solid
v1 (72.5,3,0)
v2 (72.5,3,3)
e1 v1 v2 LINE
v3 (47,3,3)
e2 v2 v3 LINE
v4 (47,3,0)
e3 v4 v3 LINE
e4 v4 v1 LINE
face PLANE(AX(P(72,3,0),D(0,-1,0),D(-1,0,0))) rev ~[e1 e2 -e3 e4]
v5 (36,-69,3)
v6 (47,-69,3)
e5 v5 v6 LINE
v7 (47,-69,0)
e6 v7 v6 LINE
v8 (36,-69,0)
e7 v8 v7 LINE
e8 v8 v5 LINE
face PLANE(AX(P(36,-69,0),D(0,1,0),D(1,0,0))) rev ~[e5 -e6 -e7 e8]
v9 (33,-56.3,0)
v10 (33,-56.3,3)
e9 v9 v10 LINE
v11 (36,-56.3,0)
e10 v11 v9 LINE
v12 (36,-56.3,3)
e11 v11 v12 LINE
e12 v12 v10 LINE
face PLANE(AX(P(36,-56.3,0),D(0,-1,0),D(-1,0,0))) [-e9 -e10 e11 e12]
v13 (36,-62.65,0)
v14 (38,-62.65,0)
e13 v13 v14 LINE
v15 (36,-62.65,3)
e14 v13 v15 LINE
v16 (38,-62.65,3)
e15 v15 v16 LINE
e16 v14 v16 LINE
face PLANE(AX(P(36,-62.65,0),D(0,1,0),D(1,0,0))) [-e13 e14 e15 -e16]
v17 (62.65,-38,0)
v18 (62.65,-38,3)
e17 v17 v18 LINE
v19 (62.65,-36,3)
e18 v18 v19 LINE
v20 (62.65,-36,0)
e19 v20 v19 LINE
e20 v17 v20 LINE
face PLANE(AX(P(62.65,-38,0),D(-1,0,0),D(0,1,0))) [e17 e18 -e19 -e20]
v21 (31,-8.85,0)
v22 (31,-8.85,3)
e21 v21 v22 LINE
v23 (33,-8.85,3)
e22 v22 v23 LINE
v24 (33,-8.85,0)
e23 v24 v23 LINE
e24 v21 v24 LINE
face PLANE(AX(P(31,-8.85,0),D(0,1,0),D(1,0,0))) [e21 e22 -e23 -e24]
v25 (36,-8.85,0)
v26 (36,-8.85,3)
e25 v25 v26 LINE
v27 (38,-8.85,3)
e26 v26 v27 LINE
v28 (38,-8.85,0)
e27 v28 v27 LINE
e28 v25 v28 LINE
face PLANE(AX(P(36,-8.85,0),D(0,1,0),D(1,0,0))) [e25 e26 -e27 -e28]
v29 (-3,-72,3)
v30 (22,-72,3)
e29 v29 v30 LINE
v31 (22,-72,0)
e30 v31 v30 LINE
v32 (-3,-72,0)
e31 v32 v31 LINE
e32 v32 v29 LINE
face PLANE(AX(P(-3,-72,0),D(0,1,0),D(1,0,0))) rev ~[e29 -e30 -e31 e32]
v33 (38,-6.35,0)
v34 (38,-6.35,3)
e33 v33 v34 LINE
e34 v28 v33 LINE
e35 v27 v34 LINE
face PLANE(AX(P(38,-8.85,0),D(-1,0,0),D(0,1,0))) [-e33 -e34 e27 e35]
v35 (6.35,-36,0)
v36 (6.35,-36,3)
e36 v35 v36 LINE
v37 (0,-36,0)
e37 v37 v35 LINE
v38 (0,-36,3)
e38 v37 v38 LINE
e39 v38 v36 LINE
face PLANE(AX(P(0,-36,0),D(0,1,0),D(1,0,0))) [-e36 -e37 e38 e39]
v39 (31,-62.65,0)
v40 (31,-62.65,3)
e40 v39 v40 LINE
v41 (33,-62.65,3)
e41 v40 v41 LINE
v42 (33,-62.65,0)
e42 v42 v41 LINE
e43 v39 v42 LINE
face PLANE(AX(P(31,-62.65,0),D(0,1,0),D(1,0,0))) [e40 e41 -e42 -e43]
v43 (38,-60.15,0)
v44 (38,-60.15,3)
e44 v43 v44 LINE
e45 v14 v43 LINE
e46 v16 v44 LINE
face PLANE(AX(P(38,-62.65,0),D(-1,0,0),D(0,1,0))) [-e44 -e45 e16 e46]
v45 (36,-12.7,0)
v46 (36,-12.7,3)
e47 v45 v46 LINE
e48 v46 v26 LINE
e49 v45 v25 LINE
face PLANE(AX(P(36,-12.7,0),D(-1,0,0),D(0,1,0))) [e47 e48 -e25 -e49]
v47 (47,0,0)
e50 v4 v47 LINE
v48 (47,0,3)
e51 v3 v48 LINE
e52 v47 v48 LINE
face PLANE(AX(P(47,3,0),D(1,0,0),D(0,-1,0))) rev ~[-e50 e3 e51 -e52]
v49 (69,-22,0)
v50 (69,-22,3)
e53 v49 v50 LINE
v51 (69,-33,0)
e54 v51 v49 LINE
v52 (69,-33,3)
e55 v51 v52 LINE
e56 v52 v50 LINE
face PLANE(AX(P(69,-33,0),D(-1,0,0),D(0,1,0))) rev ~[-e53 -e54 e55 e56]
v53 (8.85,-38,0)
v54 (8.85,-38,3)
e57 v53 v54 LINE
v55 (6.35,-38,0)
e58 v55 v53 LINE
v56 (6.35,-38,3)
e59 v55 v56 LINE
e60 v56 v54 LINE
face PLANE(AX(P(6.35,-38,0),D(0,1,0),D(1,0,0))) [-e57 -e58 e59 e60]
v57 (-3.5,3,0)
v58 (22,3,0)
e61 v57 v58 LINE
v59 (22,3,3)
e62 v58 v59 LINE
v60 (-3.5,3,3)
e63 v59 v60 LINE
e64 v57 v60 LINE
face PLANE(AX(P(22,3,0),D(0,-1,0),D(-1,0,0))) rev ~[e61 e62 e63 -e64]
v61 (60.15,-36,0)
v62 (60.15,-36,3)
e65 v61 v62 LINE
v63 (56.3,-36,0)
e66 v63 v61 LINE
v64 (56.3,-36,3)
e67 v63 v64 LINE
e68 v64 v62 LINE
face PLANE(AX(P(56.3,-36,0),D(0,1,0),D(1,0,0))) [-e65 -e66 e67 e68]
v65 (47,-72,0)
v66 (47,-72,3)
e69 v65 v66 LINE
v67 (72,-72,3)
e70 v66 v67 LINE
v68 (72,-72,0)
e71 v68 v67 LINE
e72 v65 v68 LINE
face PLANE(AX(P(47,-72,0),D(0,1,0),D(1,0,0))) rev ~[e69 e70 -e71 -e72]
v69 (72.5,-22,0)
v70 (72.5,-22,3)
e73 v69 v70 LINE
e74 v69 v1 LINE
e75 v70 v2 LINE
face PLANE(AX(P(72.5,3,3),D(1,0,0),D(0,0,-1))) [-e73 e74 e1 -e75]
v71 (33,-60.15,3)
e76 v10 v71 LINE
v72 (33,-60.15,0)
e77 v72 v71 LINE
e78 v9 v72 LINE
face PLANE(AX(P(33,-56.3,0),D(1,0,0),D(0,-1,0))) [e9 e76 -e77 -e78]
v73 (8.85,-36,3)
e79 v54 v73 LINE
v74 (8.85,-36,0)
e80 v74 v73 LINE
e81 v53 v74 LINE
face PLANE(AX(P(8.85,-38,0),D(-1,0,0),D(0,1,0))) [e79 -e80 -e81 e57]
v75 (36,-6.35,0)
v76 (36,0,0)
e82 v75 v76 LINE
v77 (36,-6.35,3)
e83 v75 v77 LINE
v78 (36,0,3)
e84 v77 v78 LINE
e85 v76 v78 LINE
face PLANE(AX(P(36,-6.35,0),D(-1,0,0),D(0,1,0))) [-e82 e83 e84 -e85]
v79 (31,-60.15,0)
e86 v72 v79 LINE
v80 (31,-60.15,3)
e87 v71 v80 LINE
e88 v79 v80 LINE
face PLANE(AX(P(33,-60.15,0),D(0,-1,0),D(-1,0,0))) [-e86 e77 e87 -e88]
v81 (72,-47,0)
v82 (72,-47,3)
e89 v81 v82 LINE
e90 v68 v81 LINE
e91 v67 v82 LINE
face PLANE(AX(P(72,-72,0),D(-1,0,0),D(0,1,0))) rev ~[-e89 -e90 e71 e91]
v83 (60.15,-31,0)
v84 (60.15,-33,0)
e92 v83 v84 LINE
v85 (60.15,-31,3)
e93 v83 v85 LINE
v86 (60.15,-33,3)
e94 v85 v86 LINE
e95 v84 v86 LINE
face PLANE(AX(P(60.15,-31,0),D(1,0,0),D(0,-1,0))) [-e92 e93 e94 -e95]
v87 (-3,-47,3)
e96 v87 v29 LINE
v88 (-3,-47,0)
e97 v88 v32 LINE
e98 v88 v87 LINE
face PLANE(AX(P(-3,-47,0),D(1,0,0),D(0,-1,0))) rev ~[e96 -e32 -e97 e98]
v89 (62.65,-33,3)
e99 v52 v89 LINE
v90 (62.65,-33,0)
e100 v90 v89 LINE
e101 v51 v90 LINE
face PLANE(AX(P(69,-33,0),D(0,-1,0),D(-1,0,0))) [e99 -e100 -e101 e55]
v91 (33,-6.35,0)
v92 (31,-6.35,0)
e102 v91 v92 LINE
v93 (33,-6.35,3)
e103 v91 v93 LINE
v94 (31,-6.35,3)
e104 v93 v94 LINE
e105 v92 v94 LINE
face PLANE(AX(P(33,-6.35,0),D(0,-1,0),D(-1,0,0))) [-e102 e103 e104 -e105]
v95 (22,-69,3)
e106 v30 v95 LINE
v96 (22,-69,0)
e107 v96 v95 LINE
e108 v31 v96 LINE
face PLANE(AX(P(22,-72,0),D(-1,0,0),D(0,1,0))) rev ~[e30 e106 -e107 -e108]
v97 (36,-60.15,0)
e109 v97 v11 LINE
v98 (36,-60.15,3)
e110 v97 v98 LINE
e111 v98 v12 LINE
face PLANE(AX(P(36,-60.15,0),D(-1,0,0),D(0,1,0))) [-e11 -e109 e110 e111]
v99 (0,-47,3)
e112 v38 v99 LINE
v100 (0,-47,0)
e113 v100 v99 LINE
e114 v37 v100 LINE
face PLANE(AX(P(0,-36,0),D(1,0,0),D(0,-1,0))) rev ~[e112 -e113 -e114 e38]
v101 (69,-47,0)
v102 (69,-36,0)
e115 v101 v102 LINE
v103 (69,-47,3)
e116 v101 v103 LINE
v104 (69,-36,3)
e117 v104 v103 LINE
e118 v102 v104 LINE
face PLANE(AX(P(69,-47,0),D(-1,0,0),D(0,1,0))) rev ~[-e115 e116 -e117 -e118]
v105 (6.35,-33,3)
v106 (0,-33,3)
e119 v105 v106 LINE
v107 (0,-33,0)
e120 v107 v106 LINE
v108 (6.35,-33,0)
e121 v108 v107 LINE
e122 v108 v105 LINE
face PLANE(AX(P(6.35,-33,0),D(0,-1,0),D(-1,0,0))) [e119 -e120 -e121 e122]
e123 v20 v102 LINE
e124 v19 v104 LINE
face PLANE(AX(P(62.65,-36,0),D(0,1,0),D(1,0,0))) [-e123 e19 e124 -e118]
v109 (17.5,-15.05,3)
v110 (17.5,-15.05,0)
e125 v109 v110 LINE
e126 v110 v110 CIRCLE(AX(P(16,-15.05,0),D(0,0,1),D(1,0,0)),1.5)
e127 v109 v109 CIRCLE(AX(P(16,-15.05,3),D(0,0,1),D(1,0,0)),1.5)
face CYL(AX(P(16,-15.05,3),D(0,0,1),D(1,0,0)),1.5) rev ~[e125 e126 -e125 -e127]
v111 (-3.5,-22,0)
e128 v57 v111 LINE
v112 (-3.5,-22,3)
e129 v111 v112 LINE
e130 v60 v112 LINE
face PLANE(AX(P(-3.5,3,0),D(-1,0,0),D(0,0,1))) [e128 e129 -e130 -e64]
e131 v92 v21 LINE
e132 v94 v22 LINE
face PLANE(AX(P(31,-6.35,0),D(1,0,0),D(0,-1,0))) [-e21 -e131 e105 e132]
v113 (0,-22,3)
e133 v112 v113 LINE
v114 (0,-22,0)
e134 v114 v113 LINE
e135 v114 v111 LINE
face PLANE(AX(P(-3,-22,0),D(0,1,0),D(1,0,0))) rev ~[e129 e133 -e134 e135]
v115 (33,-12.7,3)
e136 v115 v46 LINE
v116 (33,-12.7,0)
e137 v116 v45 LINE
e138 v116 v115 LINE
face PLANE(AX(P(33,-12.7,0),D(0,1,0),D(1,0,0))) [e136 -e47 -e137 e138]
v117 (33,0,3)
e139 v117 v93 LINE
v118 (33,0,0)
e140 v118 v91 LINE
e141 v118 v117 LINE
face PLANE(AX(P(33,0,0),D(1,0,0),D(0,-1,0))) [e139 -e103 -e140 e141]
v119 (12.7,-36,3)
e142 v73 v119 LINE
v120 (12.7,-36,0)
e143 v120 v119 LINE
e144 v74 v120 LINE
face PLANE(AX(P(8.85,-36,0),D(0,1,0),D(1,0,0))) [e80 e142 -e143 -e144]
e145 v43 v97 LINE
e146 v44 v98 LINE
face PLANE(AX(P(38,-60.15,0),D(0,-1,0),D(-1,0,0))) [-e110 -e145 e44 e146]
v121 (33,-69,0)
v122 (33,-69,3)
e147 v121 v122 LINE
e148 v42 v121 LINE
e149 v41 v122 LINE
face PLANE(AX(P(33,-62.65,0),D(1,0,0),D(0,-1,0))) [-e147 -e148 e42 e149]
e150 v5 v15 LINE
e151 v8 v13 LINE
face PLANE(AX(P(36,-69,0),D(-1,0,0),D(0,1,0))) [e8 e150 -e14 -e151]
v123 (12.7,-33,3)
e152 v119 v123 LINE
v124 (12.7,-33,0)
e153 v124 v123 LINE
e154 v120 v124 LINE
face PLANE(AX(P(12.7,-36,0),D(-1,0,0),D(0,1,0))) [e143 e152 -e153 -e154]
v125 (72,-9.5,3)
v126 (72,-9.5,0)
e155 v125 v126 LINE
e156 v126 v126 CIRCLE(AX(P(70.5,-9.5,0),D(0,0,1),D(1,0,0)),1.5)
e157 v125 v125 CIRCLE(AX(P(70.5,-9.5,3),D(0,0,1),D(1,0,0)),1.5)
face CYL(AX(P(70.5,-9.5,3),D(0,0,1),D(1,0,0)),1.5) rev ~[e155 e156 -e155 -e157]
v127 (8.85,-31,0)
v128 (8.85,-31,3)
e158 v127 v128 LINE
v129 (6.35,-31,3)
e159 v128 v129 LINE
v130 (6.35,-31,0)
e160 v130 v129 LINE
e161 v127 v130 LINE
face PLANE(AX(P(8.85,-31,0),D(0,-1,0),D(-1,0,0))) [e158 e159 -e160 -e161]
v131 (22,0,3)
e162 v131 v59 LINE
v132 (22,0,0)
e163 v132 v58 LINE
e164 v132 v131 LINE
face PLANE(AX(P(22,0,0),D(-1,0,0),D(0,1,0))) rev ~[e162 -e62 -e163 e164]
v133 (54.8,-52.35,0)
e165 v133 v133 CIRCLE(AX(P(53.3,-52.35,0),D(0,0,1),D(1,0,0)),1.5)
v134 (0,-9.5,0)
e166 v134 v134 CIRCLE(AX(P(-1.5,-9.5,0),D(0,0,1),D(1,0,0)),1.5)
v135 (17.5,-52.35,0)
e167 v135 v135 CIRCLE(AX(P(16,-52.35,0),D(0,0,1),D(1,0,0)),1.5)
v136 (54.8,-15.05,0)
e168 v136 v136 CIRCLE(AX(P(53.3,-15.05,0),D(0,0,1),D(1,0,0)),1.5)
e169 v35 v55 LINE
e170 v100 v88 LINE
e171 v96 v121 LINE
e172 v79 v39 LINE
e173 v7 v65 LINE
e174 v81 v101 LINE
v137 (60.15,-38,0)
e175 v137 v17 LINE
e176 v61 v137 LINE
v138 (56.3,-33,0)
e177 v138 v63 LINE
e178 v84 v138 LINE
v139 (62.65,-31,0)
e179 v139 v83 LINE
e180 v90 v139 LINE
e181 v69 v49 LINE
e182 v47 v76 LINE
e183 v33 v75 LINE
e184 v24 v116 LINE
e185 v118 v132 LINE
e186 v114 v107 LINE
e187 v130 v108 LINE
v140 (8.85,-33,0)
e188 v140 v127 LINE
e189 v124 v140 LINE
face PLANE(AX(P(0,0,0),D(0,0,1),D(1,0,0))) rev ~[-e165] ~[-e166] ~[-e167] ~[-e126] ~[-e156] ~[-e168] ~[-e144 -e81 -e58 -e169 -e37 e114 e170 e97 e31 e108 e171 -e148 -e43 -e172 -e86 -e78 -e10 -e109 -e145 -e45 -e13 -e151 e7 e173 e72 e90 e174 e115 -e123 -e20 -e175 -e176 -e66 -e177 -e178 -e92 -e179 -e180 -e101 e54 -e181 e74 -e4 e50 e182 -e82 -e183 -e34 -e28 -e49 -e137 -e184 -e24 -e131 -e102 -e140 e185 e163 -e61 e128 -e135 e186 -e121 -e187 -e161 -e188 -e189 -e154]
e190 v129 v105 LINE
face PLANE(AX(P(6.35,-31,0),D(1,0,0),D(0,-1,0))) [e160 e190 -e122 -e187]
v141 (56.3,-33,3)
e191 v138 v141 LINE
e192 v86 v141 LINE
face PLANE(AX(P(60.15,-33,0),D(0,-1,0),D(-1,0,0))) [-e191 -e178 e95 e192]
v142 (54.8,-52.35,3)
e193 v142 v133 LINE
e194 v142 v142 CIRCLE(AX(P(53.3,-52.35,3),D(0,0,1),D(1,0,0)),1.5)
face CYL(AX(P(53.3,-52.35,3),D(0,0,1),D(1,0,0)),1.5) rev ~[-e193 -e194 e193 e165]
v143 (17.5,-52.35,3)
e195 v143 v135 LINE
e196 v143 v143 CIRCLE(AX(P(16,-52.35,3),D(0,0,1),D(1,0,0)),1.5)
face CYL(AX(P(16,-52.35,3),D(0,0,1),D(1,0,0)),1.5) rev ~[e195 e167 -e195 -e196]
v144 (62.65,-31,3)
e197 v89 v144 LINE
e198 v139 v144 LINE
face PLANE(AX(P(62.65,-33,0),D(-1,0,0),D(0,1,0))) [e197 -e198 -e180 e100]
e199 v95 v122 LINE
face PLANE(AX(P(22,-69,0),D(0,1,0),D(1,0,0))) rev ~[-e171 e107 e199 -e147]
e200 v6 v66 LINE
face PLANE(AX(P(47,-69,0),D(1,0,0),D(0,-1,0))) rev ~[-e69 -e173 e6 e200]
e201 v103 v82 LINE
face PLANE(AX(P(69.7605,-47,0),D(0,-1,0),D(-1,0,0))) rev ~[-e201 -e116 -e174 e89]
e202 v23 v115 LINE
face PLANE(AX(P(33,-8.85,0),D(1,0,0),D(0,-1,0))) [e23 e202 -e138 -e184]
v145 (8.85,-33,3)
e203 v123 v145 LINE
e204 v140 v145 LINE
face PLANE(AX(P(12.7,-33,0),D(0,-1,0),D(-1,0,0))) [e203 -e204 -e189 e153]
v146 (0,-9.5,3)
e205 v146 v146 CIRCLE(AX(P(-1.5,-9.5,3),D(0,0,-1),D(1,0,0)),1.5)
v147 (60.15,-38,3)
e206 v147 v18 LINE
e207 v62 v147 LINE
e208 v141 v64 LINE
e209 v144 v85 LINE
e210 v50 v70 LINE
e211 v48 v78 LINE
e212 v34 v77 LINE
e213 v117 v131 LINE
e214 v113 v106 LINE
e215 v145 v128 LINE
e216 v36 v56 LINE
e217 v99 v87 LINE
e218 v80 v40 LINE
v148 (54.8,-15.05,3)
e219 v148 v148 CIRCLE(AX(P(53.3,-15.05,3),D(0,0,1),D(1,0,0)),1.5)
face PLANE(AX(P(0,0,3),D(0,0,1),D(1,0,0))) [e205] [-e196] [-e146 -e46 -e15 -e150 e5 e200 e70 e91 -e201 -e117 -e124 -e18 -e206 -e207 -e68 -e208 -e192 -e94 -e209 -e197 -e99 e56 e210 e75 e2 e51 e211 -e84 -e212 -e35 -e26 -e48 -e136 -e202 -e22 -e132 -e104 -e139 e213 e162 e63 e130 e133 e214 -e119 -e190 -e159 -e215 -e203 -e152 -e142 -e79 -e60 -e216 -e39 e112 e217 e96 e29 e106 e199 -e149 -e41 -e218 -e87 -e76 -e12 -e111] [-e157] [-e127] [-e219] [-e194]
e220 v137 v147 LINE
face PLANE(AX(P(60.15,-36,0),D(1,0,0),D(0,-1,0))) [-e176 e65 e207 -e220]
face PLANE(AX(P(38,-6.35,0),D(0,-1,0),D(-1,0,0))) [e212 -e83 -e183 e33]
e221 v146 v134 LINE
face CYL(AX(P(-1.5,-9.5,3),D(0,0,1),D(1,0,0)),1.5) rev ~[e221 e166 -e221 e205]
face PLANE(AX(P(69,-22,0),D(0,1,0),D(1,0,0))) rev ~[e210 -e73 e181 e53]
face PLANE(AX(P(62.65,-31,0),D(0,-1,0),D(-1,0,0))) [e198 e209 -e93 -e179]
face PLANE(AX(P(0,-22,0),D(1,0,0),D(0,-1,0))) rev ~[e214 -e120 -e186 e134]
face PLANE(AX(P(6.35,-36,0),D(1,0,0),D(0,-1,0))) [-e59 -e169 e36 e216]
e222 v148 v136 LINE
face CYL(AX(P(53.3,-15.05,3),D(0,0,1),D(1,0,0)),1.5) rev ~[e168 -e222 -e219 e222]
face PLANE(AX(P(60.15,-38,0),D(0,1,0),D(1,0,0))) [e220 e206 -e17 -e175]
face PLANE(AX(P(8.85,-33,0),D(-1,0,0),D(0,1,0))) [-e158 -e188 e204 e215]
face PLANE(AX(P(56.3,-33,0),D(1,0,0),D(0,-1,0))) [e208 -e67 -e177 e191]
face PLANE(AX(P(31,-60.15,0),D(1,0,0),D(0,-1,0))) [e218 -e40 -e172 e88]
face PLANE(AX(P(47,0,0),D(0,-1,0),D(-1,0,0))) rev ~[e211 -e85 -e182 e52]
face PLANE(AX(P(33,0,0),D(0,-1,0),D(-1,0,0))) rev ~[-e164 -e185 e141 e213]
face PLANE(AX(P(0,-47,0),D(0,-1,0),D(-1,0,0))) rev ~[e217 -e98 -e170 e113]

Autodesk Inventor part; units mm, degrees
ref_plane "YZ Plane" through (0, 0, 0) normal (1, 0, 0) x (0, 1, 0)
ref_plane "XZ Plane" through (0, 0, 0) normal (0, 1, 0) x (-1, 0, 0)
ref_plane "XY Plane" through (0, 0, 0) normal (0, 0, 1) x (1, 0, 0)
sketch "Sketch1" plane through (0, 0, 0) normal (0, 0, 1) x (1, 0, 0)
  arc A0 (69, -46.7929) -> (69.7605, -47) centre (69, -48.2929) ccw projected
  line L0 (72, -47) -> (69.7605, -47) projected
  line L1 (72, -72) -> (72, -47) projected
  line L2 (47, -72) -> (72, -72) projected
  line L3 (47, -69) -> (47, -72) projected
  line L4 (22, -69) -> (33, -69) projected
  line L5 (22, -72) -> (22, -69) projected
  line L6 (-3, -72) -> (22, -72) projected
  line L7 (-3, -47) -> (-3, -72) projected
  line L8 (0, -47) -> (-3, -47) projected
  line L9 (0, -22) -> (0, -33) projected
  line L10 (-3, -22) -> (0, -22) projected
  line L11 (-3, 3) -> (-3, -8.5818) projected
  line L12 (22, 3) -> (-3, 3) projected
  line L13 (22, 0) -> (22, 3) projected
  line L14 (47, 0) -> (36, 0) projected
  line L15 (47, 3) -> (47, 0) projected
  line L16 (72, 3) -> (47, 3) projected
  line L17 (72, -22) -> (72, -9.5) projected
  line L18 (69, -22) -> (72, -22) projected
  line L19 (69, -46.7929) -> (69, -36) projected
  circle A1 centre (17, -3.5) radius 1.5 projected
  circle A2 centre (69, -16.7071) radius 1.5 projected
  circle A3 centre (20, -50.5) radius 1.5 projected
  line L20 (69.7605, -47) -> (69, -47)
  line L21 (69, -47) -> (69, -46.7929)
  line L22 (0, -36) -> (0, -47) projected
  line L23 (33, 0) -> (22, 0) projected
  line L24 (69, -33) -> (69, -22) projected
  line L25 (36, -69) -> (47, -69) projected
  line L26 (-3, -8.5818) -> (-3, -22) projected
  circle A4 centre (-1.5, -8.5818) radius 1.5 projected
  line L27 (72, -9.5) -> (72, 3) projected
  circle A5 centre (70.5, -9.5) radius 1.5 projected
  line L28 (36, -69) -> (36, -62.65) projected
  line L29 (36, -62.65) -> (38, -62.65) projected
  line L30 (38, -62.65) -> (38, -60.15) projected
  line L31 (38, -60.15) -> (36, -60.15) projected
  line L32 (36, -60.15) -> (36, -56.3) projected
  line L33 (36, -56.3) -> (33, -56.3) projected
  line L34 (33, -56.3) -> (33, -60.15) projected
  line L35 (33, -60.15) -> (31, -60.15) projected
  line L36 (31, -60.15) -> (31, -62.65) projected
  line L37 (31, -62.65) -> (33, -62.65) projected
  line L38 (33, -62.65) -> (33, -69) projected
  line L39 (0, -36) -> (6.35, -36) projected
  line L40 (6.35, -36) -> (6.35, -38) projected
  line L41 (6.35, -38) -> (8.85, -38) projected
  line L42 (8.85, -38) -> (8.85, -36) projected
  line L43 (8.85, -36) -> (12.7, -36) projected
  line L44 (12.7, -36) -> (12.7, -33) projected
  line L45 (12.7, -33) -> (8.85, -33) projected
  line L46 (8.85, -33) -> (8.85, -31) projected
  line L47 (8.85, -31) -> (6.35, -31) projected
  line L48 (6.35, -31) -> (6.35, -33) projected
  line L49 (6.35, -33) -> (0, -33) projected
  line L50 (33, 0) -> (33, -6.35) projected
  line L51 (33, -6.35) -> (31, -6.35) projected
  line L52 (31, -6.35) -> (31, -8.85) projected
  line L53 (31, -8.85) -> (33, -8.85) projected
  line L54 (33, -8.85) -> (33, -12.7) projected
  line L55 (33, -12.7) -> (36, -12.7) projected
  line L56 (36, -12.7) -> (36, -8.85) projected
  line L57 (36, -8.85) -> (38, -8.85) projected
  line L58 (38, -8.85) -> (38, -6.35) projected
  line L59 (38, -6.35) -> (36, -6.35) projected
  line L60 (36, -6.35) -> (36, 0) projected
  line L61 (69, -33) -> (62.65, -33) projected
  line L62 (62.65, -33) -> (62.65, -31) projected
  line L63 (62.65, -31) -> (60.15, -31) projected
  line L64 (60.15, -31) -> (60.15, -33) projected
  line L65 (60.15, -33) -> (56.3, -33) projected
  line L66 (56.3, -33) -> (56.3, -36) projected
  line L67 (56.3, -36) -> (60.15, -36) projected
  line L68 (60.15, -36) -> (60.15, -38) projected
  line L69 (60.15, -38) -> (62.65, -38) projected
  line L70 (62.65, -38) -> (62.65, -36) projected
  line L71 (62.65, -36) -> (69, -36) projected
  point P0 (0, 0)
extrude "Extrusion1" add sketch "Sketch1" along normal blind 3 contours L21 L20 A0 | A5 | A4 | A0 L0 L1 L2 L3 L25 L28 L29 L30 L31 L32 L33 L34 L35 L36 L37 L38 L4 L5 L6 L7 L8 L22 L39 L40 L41 L42 L43 L44 L45 L46 L47 L48 L49 L9 L10 L26 L11 L12 L13 L23 L50 L51 L52 L53 L54 L55 L56 L57 L58 L59 L60 L14 L15 L16 L27 L17 L18 L24 L61 L62 L63 L64 L65 L66 L67 L68 L69 L70 L71 L19 | A1 | A2 | A3
sketch "Sketch2" plane through (0, 0, 3) normal (0, 0, 1) x (1, 0, 0)
  circle A0 centre (16, -15.05) radius 1.5 projected
  circle A1 centre (53.3, -15.05) radius 1.5 projected
  circle A2 centre (16, -52.35) radius 1.5 projected
  circle A3 centre (53.3, -52.35) radius 1.5 projected
  point P0 (0, 0)
extrude "Extrusion2" cut sketch "Sketch2" against normal blind 3
sketch "Sketch3" plane through (0, 0, 3) normal (0, 0, 1) x (1, 0, 0)
  line L0 (22, 3) -> (-3, 3) projected
  circle A0 centre (16, -52.35) radius 1.5 projected
  circle A1 centre (16, -15.05) radius 1.5 projected
  circle A2 centre (53.3, -15.05) radius 1.5 projected
  circle A3 centre (53.3, -52.35) radius 1.5 projected
  line L1 (72, -47) -> (69, -47) projected
  line L2 (69, -47) -> (69, -36) projected
  line L3 (69, -22) -> (72, -22) projected
  line L4 (72, -22) -> (72, 3) projected
  line L5 (72, 3) -> (47, 3) projected
  line L6 (47, 3) -> (47, 0) projected
  line L7 (47, 0) -> (36, 0) projected
  line L8 (22, 0) -> (22, 3) projected
  line L9 (22, 3) -> (-3, 3) projected
  line L10 (-3, 3) -> (-3, -22) projected
  line L11 (-3, -22) -> (0, -22) projected
  line L12 (0, -22) -> (0, -33) projected
  line L13 (0, -47) -> (-3, -47) projected
  line L14 (-3, -47) -> (-3, -72) projected
  line L15 (-3, -72) -> (22, -72) projected
  line L16 (22, -72) -> (22, -69) projected
  line L17 (22, -69) -> (33, -69) projected
  line L18 (47, -69) -> (47, -72) projected
  line L19 (47, -72) -> (72, -72) projected
  line L20 (72, -72) -> (72, -47) projected
  line L21 (47, 0) -> (22, 0) projected
  line L22 (34.5, 0) -> (34.5, -12.7)
  line L23 (34.5, -6.35) -> (31, -6.35)
  line L24 (31, -6.35) -> (31, -8.85)
  line L25 (31, -8.85) -> (38, -8.85)
  line L26 (38, -8.85) -> (38, -6.35)
  line L27 (38, -6.35) -> (34.5, -6.35)
  line L28 (34.5, -12.7) -> (36, -12.7)
  line L29 (36, -12.7) -> (36, 0)
  line L30 (34.5, -12.7) -> (33, -12.7)
  line L31 (33, -12.7) -> (33, 0)
  line L32 (33, 0) -> (36, 0)
  line L33 (0, -22) -> (0, -47) projected
  line L34 (0, -34.5) -> (12.7, -34.5)
  line L35 (6.35, -34.5) -> (6.35, -31)
  line L36 (6.35, -31) -> (8.85, -31)
  line L37 (8.85, -31) -> (8.85, -38)
  line L38 (8.85, -38) -> (6.35, -38)
  line L39 (6.35, -38) -> (6.35, -34.5)
  line L40 (12.7, -34.5) -> (12.7, -36)
  line L41 (12.7, -36) -> (12.7, -33)
  line L42 (12.7, -33) -> (0, -33)
  line L43 (0, -36) -> (0, -33)
  line L44 (0, -36) -> (12.7, -36)
  line L45 (69, -34.5) -> (56.3, -34.5)
  line L46 (62.65, -34.5) -> (62.65, -31)
  line L47 (62.65, -31) -> (60.15, -31)
  line L48 (60.15, -31) -> (60.15, -38)
  line L49 (60.15, -38) -> (62.65, -38)
  line L50 (56.3, -34.5) -> (56.3, -36)
  line L51 (56.3, -36) -> (56.3, -33)
  line L52 (56.3, -33) -> (69, -33)
  line L53 (69, -36) -> (69, -33)
  line L54 (69, -36) -> (56.3, -36)
  line L55 (47, -69) -> (22, -69)
  line L56 (47, -69) -> (22, -69)
  line L57 (34.5, -69) -> (34.5, -56.3)
  line L58 (34.5, -62.65) -> (31, -62.65)
  line L59 (31, -62.65) -> (31, -60.15)
  line L60 (31, -60.15) -> (38, -60.15)
  line L61 (38, -60.15) -> (38, -62.65)
  line L62 (38, -62.65) -> (34.5, -62.65)
  line L63 (34.5, -56.3) -> (36, -56.3)
  line L64 (36, -56.3) -> (36, -69)
  line L65 (34.5, -56.3) -> (33, -56.3)
  line L66 (33, -56.3) -> (33, -69)
  line L67 (33, -69) -> (36, -69)
  line L68 (0, -33) -> (12.7, -33)
  line L69 (12.7, -33) -> (12.7, -36)
  line L70 (12.7, -36) -> (0, -36)
  line L71 (0, -36) -> (0, -33)
  line L72 (33, 0) -> (36, 0)
  line L73 (36, 0) -> (36, -12.7)
  line L74 (36, -12.7) -> (33, -12.7)
  line L75 (33, -12.7) -> (33, 0)
  line L76 (56.3, -33) -> (69, -33)
  line L77 (69, -33) -> (69, -36)
  line L78 (69, -36) -> (56.3, -36)
  line L79 (56.3, -36) -> (56.3, -33)
  line L80 (33, -56.3) -> (36, -56.3)
  line L81 (36, -56.3) -> (36, -69)
  line L82 (36, -69) -> (33, -69)
  line L83 (33, -69) -> (33, -56.3)
  line L84 (60.15, -38) -> (62.65, -38)
  line L85 (62.65, -38) -> (62.65, -31)
  line L86 (62.65, -31) -> (60.15, -31)
  line L87 (60.15, -31) -> (60.15, -38)
  line L88 (69, -33) -> (69, -22) projected
  line L89 (33, 0) -> (22, 0) projected
  line L90 (0, -36) -> (0, -47) projected
  line L91 (36, -69) -> (47, -69) projected
  line L92 (69, -36) -> (62.65, -36) projected
  line L93 (62.65, -36) -> (62.65, -38) projected
  line L94 (62.65, -38) -> (60.15, -38) projected
  line L95 (60.15, -38) -> (60.15, -36) projected
  line L96 (60.15, -36) -> (56.3, -36) projected
  line L97 (56.3, -36) -> (56.3, -33) projected
  line L98 (56.3, -33) -> (60.15, -33) projected
  line L99 (60.15, -33) -> (60.15, -31) projected
  line L100 (60.15, -31) -> (62.65, -31) projected
  line L101 (62.65, -31) -> (62.65, -33) projected
  line L102 (62.65, -33) -> (69, -33) projected
  line L103 (36, 0) -> (36, -6.35) projected
  line L104 (36, -6.35) -> (38, -6.35) projected
  line L105 (38, -6.35) -> (38, -8.85) projected
  line L106 (38, -8.85) -> (36, -8.85) projected
  line L107 (36, -8.85) -> (36, -12.7) projected
  line L108 (36, -12.7) -> (33, -12.7) projected
  line L109 (33, -12.7) -> (33, -8.85) projected
  line L110 (33, -8.85) -> (31, -8.85) projected
  line L111 (31, -8.85) -> (31, -6.35) projected
  line L112 (31, -6.35) -> (33, -6.35) projected
  line L113 (33, -6.35) -> (33, 0) projected
  line L114 (0, -33) -> (6.35, -33) projected
  line L115 (6.35, -33) -> (6.35, -31) projected
  line L116 (6.35, -31) -> (8.85, -31) projected
  line L117 (8.85, -31) -> (8.85, -33) projected
  line L118 (8.85, -33) -> (12.7, -33) projected
  line L119 (12.7, -33) -> (12.7, -36) projected
  line L120 (12.7, -36) -> (8.85, -36) projected
  line L121 (8.85, -36) -> (8.85, -38) projected
  line L122 (8.85, -38) -> (6.35, -38) projected
  line L123 (6.35, -38) -> (6.35, -36) projected
  line L124 (6.35, -36) -> (0, -36) projected
  line L125 (33, -69) -> (33, -62.65) projected
  line L126 (33, -62.65) -> (31, -62.65) projected
  line L127 (31, -62.65) -> (31, -60.15) projected
  line L128 (31, -60.15) -> (33, -60.15) projected
  line L129 (33, -60.15) -> (33, -56.3) projected
  line L130 (33, -56.3) -> (36, -56.3) projected
  line L131 (36, -56.3) -> (36, -60.15) projected
  line L132 (36, -60.15) -> (38, -60.15) projected
  line L133 (38, -60.15) -> (38, -62.65) projected
  line L134 (38, -62.65) -> (36, -62.65) projected
  line L135 (36, -62.65) -> (36, -69) projected
  point P0 (0, 0)
  dimension "d4" = 12.7
  dimension "d5" = 3.5
  dimension "d6" = 2.5
  dimension "d7" = 7
  dimension "d8" = 1.5
  dimension "d9" = 1.5
  dimension "d10" = 12.7
  dimension "d11" = 3.5
  dimension "d12" = 2.5
  dimension "d13" = 7
  dimension "d14" = 1.5
  dimension "d15" = 3
extrude "Extrusion3" cut sketch "Sketch3" against normal blind 25.4 contours L21 L22 L23 L31 | L21 L29 L27 L22 | L31 L25 L24 L23 | L23 L22 L25 L31 | L42 L35 L34 L33 | L27 L29 L25 L22 | L25 L22 L30 L31 | L34 L39 L44 L33 | L42 L37 L34 L35 | L35 L36 L37 L42 | L27 L26 L25 L29 | L25 L29 L28 L22 | L34 L37 L44 L39 | L42 L41 L34 L37 | L44 L37 L38 L39 | L34 L40 L44 L37 | L53 L45 L46 L52 | L52 L48 L47 L46 | L46 L45 L48 L52 | L53 L54 L85 L45 | L66 L58 L57 L55 | L85 L54 L48 L45 | L48 L45 L51 L52 | L57 L62 L64 L55 | L66 L60 L57 L58 | L58 L59 L60 L66 | L48 L54 L50 L45 | L85 L49 L48 L54 | L57 L60 L64 L62 | L66 L65 L57 L60 | L64 L60 L61 L62 | L57 L63 L64 L60
sketch "Sketch4" plane through (0, 0, 3) normal (0, 0, 1) x (1, 0, 0)
  line L0 (-3, -11) -> (-3, -8) projected
  line L1 (-3, 3) -> (-3, -22) projected
  line L2 (-3, -9.5) -> (-1.5, -9.5)
  line L3 (72, -22) -> (72, 3) projected
  line L4 (72, -9.5) -> (70.5, -9.5)
  circle A0 centre (70.5, -9.5) radius 1.5
  circle A1 centre (-1.5, -9.5) radius 1.5
  point P0 (0, 0)
  dimension "d18" = 1.5
  dimension "d19" = 1.5
extrude "Extrusion4" cut sketch "Sketch4" against normal blind 25.4
sketch "Sketch5" plane through (72, 3, 3) normal (1, 0, 0) x (0, 0, -1)
  line L0 (0, -12.5) -> (3, -12.5) projected
  line L1 (3, -12.5) -> (3, 0) projected
  line L2 (3, 0) -> (0, 0) projected
  line L3 (0, -12.5) -> (0, 0) projected
  line L4 (0, -25) -> (0, -12.5) projected
  line L5 (3, -25) -> (0, -25) projected
  line L6 (3, -25) -> (3, -12.5) projected
  point P0 (3, -3)
extrude "Extrusion5" add sketch "Sketch5" along normal blind 0.5
sketch "Sketch6" plane through (-3, 3, 0) normal (-1, 0, 0) x (0, 0, 1)
  line L0 (3, -12.5) -> (0, -12.5) projected
  line L1 (3, 0) -> (3, -12.5) projected
  line L2 (0, 0) -> (3, 0) projected
  line L3 (0, 0) -> (0, -12.5) projected
  line L4 (0, -12.5) -> (0, -25) projected
  line L5 (0, -25) -> (3, -25) projected
  line L6 (3, -12.5) -> (3, -25) projected
  line L7 (3, -12.5) -> (0, -12.5) projected
  line L8 (0, -12.5) -> (0, -25) projected
  line L9 (0, -25) -> (3, -25) projected
  line L10 (3, -12.5) -> (3, -25) projected
  line L11 (3, 0) -> (3, -12.5) projected
  line L12 (0, 0) -> (3, 0) projected
  line L13 (0, 0) -> (0, -12.5) projected
  point P0 (0, -3)
extrude "Extrusion6" add sketch "Sketch6" along normal blind 0.5
properties part number "pared ateral 2"
